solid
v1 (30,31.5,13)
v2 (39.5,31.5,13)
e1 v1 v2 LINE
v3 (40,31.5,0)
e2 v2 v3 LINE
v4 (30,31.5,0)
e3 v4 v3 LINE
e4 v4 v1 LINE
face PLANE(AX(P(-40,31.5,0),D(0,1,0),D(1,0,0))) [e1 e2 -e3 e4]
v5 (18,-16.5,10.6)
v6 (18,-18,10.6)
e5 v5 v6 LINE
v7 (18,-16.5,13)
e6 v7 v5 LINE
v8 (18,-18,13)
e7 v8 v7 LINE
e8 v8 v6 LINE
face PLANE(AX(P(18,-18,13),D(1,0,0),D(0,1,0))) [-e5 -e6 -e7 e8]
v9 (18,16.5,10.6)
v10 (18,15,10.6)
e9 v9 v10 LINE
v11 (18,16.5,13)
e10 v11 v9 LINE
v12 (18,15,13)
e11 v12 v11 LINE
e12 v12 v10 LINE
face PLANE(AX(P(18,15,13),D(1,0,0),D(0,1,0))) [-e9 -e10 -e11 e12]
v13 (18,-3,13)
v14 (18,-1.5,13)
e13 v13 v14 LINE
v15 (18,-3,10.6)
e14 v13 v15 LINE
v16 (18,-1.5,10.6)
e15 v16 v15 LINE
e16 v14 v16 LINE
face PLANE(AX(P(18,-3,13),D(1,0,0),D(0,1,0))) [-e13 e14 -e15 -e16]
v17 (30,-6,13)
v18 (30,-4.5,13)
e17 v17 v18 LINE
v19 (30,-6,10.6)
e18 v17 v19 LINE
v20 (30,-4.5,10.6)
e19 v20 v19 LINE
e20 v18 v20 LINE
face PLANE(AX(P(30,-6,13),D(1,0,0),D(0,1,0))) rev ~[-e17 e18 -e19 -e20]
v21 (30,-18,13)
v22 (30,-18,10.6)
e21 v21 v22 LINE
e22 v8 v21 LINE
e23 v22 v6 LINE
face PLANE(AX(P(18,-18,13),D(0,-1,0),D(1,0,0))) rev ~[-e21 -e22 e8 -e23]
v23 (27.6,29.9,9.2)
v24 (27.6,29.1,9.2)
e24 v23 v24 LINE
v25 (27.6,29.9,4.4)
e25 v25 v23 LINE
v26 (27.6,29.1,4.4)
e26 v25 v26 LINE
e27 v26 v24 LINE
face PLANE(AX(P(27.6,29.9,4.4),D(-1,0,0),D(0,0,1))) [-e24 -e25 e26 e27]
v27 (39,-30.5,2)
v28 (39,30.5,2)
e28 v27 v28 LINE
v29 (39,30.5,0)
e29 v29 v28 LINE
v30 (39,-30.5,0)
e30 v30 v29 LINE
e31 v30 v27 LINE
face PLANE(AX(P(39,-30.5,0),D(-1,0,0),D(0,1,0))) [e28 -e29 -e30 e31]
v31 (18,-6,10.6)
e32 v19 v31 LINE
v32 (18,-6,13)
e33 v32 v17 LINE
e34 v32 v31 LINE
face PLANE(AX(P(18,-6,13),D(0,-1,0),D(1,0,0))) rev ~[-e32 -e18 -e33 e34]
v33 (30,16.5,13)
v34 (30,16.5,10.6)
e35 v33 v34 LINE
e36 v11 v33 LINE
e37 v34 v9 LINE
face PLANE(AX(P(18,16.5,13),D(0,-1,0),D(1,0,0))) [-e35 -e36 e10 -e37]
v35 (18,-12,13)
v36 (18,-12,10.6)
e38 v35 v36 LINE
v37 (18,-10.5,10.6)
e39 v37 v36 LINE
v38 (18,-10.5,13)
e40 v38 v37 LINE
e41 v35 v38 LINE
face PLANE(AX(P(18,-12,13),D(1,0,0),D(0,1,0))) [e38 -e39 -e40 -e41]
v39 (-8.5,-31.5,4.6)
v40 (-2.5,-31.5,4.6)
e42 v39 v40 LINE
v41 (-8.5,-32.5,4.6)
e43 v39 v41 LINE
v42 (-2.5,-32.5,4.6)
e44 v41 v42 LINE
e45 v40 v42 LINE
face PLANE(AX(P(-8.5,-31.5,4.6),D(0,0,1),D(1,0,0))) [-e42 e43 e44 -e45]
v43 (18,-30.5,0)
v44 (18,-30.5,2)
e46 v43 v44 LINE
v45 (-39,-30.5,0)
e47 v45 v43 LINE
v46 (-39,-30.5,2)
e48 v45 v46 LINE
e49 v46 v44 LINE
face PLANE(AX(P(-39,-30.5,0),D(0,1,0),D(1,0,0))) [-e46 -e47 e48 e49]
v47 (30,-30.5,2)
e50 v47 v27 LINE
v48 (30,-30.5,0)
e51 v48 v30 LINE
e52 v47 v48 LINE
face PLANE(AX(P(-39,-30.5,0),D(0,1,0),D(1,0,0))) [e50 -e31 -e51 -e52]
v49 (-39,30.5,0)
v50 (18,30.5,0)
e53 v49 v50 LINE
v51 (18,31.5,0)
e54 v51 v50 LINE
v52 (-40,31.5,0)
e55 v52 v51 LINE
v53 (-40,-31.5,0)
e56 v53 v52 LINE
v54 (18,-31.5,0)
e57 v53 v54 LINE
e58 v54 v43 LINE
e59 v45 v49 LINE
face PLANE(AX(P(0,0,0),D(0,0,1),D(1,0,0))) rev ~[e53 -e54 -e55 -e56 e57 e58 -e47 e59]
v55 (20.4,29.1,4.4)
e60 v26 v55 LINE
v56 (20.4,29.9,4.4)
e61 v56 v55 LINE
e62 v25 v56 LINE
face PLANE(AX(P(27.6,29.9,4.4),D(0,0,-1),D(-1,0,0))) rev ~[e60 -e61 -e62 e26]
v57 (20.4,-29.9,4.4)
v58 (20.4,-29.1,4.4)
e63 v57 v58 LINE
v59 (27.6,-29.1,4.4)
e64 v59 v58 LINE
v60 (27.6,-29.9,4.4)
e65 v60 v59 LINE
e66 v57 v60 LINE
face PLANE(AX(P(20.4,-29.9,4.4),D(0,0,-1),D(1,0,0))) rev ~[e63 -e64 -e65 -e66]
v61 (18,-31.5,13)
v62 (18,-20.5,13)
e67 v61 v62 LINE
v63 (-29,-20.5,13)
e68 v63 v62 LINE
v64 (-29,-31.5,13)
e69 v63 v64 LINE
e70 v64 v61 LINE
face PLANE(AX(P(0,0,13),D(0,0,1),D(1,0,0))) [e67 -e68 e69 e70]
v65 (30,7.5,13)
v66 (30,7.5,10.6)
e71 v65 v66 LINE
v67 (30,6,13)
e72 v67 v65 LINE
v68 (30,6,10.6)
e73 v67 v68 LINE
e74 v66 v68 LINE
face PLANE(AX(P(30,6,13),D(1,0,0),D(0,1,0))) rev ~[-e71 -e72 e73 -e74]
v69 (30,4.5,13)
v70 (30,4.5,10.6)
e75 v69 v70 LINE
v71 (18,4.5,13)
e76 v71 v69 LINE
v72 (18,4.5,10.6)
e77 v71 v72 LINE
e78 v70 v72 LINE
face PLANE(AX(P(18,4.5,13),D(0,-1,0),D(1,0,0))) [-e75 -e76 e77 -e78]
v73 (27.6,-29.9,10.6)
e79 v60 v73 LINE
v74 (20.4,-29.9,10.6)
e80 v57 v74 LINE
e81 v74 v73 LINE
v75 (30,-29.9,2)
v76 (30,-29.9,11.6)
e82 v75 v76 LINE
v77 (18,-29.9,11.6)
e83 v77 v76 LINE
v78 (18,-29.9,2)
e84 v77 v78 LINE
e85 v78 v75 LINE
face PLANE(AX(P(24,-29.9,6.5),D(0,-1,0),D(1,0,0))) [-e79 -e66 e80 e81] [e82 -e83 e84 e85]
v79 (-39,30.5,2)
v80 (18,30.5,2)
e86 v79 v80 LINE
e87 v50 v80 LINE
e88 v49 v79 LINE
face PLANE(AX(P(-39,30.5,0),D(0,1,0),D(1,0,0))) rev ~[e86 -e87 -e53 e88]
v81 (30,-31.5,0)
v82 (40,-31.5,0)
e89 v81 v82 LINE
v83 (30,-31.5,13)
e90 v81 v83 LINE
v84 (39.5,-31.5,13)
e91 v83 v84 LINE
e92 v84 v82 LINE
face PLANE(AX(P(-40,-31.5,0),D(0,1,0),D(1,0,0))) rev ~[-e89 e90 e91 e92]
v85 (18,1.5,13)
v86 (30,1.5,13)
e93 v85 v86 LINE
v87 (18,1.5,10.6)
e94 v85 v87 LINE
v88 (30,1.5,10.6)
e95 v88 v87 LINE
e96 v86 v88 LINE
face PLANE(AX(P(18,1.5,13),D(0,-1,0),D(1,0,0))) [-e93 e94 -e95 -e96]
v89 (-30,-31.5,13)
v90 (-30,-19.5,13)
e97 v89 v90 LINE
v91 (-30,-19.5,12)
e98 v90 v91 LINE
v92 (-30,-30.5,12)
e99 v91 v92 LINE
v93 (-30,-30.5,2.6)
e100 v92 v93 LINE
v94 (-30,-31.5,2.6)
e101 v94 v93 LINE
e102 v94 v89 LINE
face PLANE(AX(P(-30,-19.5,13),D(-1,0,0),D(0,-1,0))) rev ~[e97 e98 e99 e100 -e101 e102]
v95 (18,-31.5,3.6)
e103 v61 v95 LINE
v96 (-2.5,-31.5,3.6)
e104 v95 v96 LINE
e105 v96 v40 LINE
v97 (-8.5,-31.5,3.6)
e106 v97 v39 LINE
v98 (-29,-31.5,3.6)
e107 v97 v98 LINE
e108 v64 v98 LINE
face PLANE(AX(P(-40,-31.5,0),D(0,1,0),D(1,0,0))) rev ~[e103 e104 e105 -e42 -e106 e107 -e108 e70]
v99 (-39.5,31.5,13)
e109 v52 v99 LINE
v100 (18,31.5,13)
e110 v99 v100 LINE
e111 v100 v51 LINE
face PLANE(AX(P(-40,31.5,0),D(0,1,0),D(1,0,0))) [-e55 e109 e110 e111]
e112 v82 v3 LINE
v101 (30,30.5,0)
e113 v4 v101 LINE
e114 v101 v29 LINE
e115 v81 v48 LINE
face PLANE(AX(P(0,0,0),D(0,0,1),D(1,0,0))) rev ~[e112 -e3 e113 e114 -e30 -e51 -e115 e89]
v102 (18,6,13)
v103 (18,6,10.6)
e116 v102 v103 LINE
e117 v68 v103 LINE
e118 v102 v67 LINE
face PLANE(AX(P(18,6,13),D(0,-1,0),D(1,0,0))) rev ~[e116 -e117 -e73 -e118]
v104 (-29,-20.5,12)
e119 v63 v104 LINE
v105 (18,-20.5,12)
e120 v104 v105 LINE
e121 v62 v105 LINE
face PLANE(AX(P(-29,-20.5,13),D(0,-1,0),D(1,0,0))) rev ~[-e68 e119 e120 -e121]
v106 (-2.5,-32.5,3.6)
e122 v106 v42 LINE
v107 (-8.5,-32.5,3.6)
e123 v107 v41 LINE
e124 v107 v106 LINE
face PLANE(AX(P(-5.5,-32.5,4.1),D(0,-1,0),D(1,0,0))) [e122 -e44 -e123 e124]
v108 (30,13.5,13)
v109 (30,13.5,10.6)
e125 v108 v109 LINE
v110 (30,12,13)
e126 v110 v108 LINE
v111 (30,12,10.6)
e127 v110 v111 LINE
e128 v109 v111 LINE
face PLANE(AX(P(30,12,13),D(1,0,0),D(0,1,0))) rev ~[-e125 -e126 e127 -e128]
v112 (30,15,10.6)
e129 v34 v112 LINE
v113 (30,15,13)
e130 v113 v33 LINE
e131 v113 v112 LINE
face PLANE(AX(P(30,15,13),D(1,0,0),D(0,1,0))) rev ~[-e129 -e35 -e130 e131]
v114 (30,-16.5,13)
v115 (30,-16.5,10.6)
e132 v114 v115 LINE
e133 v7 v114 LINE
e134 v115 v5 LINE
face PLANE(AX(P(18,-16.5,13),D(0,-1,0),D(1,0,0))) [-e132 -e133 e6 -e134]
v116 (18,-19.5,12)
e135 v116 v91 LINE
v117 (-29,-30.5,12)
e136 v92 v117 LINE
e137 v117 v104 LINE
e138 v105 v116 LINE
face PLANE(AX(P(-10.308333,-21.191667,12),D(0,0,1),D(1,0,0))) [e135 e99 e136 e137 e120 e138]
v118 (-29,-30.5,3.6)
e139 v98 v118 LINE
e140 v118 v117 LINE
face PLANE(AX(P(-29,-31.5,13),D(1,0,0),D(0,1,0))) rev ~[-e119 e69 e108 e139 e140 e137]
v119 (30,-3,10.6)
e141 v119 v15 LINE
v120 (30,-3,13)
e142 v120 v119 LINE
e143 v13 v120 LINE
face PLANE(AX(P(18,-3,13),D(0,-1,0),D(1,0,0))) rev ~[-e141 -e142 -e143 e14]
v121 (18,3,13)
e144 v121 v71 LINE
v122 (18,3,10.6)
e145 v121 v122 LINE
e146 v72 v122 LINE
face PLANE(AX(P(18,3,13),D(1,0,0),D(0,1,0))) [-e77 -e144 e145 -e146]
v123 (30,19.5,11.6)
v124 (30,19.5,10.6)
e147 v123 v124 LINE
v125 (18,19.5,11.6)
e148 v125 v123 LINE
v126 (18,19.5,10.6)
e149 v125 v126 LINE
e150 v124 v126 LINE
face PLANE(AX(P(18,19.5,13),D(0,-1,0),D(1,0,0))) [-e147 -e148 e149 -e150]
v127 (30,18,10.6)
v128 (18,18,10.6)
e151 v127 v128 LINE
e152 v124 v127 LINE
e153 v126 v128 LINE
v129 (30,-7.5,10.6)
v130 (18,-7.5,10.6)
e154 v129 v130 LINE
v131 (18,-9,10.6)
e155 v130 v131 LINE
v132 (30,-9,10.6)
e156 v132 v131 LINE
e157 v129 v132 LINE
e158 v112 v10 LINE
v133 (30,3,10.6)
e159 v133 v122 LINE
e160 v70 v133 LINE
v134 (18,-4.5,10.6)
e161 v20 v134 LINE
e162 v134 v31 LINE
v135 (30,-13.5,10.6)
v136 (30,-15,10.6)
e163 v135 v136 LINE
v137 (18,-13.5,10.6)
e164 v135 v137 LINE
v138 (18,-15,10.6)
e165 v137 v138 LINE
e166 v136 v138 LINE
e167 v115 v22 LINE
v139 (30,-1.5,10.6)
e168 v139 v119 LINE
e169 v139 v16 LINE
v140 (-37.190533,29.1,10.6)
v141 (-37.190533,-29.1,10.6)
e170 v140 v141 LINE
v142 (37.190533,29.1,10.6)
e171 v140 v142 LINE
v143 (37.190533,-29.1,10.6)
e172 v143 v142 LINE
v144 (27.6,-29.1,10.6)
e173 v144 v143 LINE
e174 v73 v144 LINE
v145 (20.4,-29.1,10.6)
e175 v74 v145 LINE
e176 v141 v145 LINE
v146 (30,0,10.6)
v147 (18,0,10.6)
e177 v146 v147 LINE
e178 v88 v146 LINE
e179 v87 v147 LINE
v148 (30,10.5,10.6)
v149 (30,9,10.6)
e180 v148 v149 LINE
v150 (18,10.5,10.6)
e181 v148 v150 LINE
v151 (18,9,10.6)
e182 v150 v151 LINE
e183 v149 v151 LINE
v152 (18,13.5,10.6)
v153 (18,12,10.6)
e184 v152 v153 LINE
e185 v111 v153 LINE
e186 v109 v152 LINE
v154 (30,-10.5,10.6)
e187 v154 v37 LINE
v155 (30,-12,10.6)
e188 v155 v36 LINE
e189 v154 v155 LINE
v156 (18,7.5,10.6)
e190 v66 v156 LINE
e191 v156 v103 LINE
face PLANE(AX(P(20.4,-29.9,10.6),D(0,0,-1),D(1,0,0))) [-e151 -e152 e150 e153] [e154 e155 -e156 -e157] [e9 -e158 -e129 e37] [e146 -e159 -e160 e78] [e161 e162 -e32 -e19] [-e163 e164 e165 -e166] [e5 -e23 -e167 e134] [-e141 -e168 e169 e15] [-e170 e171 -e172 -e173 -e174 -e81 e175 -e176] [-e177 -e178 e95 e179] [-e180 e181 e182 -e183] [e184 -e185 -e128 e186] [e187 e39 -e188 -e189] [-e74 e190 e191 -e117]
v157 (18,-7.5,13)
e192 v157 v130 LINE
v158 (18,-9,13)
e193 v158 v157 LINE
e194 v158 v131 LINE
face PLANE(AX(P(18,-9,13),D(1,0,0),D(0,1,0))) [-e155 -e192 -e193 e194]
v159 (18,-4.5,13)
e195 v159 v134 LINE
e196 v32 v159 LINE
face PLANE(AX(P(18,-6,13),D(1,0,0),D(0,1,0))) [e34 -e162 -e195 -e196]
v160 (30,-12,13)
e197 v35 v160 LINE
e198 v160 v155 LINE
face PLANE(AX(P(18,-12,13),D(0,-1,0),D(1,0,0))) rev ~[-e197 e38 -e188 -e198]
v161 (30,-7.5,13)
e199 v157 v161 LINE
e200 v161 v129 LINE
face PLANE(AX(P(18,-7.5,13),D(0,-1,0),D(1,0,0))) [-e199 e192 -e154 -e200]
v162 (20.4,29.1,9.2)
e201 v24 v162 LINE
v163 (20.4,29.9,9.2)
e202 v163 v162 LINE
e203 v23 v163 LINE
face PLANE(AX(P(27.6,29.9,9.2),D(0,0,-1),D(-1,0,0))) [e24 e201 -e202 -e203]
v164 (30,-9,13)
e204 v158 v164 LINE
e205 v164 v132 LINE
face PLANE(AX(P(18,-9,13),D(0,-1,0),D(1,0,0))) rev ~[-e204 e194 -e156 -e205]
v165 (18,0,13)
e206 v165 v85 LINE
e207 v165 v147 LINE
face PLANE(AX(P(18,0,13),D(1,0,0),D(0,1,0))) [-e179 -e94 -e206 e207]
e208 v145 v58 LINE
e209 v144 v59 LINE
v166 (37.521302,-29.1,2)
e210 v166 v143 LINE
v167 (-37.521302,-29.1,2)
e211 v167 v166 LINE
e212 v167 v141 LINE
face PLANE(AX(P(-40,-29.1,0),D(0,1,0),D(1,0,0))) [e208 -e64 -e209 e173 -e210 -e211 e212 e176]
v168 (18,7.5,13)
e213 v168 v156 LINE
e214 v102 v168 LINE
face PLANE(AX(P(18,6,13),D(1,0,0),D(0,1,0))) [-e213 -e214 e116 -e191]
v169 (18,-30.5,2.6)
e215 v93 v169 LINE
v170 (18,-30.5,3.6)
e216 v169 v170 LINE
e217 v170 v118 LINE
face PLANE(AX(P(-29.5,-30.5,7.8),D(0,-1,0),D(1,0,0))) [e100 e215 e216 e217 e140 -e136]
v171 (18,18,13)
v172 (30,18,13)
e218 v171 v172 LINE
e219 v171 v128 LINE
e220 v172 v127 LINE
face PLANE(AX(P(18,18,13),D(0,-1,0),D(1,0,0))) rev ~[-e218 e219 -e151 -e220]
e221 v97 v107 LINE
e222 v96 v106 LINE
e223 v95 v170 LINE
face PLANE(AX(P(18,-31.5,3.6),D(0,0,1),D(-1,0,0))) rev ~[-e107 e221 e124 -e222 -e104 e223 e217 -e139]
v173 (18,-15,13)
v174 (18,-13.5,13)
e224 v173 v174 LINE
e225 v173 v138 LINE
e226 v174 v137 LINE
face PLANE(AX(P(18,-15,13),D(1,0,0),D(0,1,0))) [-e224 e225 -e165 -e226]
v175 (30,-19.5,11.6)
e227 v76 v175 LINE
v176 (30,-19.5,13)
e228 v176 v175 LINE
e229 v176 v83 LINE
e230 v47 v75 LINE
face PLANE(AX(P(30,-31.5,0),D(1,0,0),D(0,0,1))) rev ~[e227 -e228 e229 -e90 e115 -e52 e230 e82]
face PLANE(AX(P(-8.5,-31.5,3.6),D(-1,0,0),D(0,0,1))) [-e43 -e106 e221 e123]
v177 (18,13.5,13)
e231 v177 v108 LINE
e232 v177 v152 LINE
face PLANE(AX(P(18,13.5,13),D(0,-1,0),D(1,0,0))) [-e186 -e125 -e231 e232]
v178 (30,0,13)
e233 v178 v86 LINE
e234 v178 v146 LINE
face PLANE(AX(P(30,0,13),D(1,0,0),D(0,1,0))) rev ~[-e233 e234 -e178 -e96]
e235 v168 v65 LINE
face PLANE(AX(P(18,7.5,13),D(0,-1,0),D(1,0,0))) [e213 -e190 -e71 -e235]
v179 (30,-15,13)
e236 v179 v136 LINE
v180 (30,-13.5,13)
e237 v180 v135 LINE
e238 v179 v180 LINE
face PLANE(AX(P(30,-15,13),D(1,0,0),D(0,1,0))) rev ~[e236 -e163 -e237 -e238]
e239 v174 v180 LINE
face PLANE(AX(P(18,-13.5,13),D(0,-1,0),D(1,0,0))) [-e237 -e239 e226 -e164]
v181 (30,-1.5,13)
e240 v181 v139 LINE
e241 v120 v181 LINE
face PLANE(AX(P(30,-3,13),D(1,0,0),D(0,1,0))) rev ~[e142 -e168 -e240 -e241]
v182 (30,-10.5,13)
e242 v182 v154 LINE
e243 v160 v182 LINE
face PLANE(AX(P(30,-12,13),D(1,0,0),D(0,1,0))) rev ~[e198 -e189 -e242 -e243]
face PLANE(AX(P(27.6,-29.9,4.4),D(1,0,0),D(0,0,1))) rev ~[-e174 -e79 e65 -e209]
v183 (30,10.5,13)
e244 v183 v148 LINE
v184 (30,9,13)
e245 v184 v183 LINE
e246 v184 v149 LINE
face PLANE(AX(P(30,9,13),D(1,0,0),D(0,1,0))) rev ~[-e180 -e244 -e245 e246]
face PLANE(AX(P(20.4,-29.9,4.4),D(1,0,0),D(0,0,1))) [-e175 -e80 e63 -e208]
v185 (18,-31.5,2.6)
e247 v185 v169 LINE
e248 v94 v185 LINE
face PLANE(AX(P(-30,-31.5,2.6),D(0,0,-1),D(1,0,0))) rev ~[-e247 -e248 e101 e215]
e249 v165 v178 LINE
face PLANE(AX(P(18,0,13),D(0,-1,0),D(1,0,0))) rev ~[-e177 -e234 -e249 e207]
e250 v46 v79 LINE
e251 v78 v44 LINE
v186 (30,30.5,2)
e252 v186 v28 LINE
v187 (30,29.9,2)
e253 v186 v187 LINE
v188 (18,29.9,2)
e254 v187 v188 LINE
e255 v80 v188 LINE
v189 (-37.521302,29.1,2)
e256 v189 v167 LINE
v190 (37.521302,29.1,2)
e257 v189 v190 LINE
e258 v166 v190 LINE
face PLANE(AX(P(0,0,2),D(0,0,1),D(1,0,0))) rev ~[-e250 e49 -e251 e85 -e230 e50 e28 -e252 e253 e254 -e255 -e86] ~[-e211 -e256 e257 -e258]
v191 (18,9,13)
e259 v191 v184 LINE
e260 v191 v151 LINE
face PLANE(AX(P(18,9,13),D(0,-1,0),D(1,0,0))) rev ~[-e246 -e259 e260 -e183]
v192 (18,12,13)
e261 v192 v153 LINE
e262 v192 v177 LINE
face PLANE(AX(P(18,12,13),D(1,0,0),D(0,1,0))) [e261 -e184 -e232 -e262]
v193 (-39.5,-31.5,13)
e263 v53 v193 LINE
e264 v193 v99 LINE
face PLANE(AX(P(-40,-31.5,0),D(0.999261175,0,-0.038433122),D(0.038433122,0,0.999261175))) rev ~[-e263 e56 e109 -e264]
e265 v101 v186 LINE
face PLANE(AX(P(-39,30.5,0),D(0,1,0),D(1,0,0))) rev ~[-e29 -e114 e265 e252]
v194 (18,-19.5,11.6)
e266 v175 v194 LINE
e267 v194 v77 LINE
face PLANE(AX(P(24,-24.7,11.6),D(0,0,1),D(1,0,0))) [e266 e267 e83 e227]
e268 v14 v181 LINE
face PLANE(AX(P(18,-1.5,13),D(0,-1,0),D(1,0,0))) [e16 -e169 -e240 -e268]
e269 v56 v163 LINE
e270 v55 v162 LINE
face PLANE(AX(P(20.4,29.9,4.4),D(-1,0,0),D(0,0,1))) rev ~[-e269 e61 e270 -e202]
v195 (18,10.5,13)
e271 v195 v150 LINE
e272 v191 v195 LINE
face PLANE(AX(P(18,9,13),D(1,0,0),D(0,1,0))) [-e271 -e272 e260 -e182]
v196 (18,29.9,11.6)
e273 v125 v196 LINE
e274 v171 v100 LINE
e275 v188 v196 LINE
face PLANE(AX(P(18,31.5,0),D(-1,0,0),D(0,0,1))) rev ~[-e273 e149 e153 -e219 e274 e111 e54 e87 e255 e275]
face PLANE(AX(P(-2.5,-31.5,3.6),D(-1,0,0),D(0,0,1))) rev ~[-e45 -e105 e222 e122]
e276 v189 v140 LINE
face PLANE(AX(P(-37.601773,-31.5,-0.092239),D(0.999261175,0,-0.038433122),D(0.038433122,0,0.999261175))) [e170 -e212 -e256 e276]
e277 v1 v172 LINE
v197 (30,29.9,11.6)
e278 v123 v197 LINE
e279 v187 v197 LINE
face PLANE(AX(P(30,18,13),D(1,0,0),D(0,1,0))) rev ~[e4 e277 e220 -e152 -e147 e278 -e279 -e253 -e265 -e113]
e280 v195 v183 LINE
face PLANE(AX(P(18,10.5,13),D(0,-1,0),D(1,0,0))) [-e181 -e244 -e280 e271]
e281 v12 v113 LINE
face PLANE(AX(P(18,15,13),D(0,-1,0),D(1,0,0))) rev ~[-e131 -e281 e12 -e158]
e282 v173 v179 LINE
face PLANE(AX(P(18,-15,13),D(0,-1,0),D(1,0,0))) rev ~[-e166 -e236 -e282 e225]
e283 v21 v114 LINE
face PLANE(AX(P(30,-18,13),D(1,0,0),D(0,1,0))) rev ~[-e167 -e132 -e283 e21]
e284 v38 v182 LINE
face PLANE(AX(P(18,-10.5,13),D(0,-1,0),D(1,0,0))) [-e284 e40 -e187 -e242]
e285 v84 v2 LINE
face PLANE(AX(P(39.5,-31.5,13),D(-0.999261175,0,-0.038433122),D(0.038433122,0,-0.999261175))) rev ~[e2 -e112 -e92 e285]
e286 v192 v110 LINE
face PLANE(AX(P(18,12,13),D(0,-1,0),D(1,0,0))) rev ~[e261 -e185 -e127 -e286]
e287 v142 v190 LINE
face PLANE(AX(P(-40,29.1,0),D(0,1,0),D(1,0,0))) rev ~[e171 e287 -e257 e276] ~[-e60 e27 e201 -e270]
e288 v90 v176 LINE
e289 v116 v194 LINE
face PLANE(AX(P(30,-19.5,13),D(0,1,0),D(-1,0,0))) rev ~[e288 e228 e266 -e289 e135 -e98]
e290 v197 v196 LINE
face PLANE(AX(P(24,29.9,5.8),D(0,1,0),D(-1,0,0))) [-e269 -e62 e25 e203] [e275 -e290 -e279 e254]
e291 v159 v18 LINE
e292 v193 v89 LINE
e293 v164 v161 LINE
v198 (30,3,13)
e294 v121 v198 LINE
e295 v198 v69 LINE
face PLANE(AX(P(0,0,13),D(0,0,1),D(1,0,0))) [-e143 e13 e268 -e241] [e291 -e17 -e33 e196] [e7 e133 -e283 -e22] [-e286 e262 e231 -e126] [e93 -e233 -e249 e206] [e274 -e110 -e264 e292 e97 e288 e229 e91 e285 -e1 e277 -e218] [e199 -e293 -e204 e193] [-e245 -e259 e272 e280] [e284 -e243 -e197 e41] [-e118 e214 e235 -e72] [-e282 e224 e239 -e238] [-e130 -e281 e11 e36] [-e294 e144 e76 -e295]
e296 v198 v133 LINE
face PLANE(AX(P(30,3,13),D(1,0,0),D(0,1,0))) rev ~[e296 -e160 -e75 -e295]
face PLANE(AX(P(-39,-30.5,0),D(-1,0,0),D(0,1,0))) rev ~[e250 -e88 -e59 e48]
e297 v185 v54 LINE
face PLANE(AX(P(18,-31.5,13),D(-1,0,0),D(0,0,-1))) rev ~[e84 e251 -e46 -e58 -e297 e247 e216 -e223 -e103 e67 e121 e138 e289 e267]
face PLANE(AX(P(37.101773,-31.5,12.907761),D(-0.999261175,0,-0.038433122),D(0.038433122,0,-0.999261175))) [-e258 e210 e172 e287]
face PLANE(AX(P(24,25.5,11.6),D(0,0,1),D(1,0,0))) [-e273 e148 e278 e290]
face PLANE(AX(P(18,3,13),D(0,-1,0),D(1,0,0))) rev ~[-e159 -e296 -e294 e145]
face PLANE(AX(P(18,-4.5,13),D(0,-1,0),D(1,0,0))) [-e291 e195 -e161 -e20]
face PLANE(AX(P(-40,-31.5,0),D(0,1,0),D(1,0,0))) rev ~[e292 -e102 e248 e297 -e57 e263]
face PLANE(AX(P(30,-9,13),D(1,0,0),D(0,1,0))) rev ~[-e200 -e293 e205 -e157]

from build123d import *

# Parameters (mm, degrees)
F0_W      = 80
F0_H      = 63
F0_W_2    = 78
F0_H_2    = 61
F1_DEPTH  = 13
F3_DEPTH  = 63
F4_T      = -2.4
F5_DEPTH  = 2
F6_DEPTH  = 1.6
F7_W      = 7.2
F7_H      = 6.2
F8_DEPTH  = 2
F9_W      = 12
F9_H      = 12
F10_DEPTH = 1.4
F9_H_2    = 1.5
F11_DEPTH = 3
F12_W     = 12
F12_H     = 11.6
F13_DEPTH = 1.6
F14_W     = 7.2
F14_H     = 4.8
F15_DEPTH = 3
F16_DEPTH = 1
F2_W      = 6
F2_H      = 1
F17_DEPTH = 1
F18_DEPTH = 1


with BuildPart() as f1:
    # F0 (on Top) → F1 (new body)
    with BuildSketch(Plane.XY):
        Rectangle(F0_W, F0_H)
        Rectangle(F0_W_2, F0_H_2, mode=Mode.SUBTRACT)
        Rectangle(F0_W_2, F0_H_2)
    extrude(amount=F1_DEPTH)

    # F2 (on face) → F3 (cut)
    with BuildSketch(Plane.XZ.offset(31.5)):
        Polygon((-39.5, 13), (-40, 13), (-40, 0), align=None)
        Polygon((39.5, 13), (40, 0), (40, 13), align=None)
    extrude(amount=-F3_DEPTH, mode=Mode.SUBTRACT)

    # F4
    f4_openings = [f1.faces().sort_by_distance(p)[0] for p in [
        (0, 0, 0),
    ]]
    offset(amount=F4_T, openings=f4_openings)

    # F0 (on Top) → F5 (cut)
    with BuildSketch(Plane.XY):
        Rectangle(F0_W_2, F0_H_2)
    extrude(amount=F5_DEPTH, mode=Mode.SUBTRACT)

    # F2 (on face) → F6 (cut)
    with BuildSketch(Plane.XZ.offset(31.5)):
        Polygon((18, 2.6), (18, 0), (30, 0), (30, 13), (18, 13), (18, 3.6), align=None)
    extrude(amount=-F6_DEPTH, mode=Mode.SUBTRACT)

    # F7 (on face) → F8 (cut)
    with BuildSketch(Plane.XZ.offset(29.9)):
        with Locations((24, 7.5)):
            Rectangle(F7_W, F7_H)
    extrude(amount=-F8_DEPTH, mode=Mode.SUBTRACT)

    # F9 (on face) → F10 (cut)
    with BuildSketch(Plane.XY.offset(13)):
        with Locations((24, 25.5)):
            Rectangle(F9_W, F9_H)
        Polygon((18, -20.5), (18, -29.9), (30, -29.9), (30, -19.5), (18, -19.5), align=None)
    extrude(amount=-F10_DEPTH, mode=Mode.SUBTRACT)

    # F9 (on face) → F11 (cut)
    with BuildSketch(Plane.XY.offset(13)):
        with Locations((24, -17.25)):
            Rectangle(F9_W, F9_H_2)
        with Locations((24, -14.25)):
            Rectangle(F9_W, F9_H_2)
        with Locations((24, -11.25)):
            Rectangle(F9_W, F9_H_2)
        with Locations((24, -8.25)):
            Rectangle(F9_W, F9_H_2)
        with Locations((24, -5.25)):
            Rectangle(F9_W, F9_H_2)
        with Locations((24, 0.75)):
            Rectangle(F9_W, F9_H_2)
        with Locations((24, -2.25)):
            Rectangle(F9_W, F9_H_2)
        with Locations((24, 3.75)):
            Rectangle(F9_W, F9_H_2)
        with Locations((24, 6.75)):
            Rectangle(F9_W, F9_H_2)
        with Locations((24, 9.75)):
            Rectangle(F9_W, F9_H_2)
        with Locations((24, 12.75)):
            Rectangle(F9_W, F9_H_2)
        with Locations((24, 15.75)):
            Rectangle(F9_W, F9_H_2)
        with Locations((24, 18.75)):
            Rectangle(F9_W, F9_H_2)
    extrude(amount=-F11_DEPTH, mode=Mode.SUBTRACT)

    # F12 (on face) → F13 (cut)
    with BuildSketch(Plane(origin=(0, 31.5, 0), x_dir=(-1, 0, 0), z_dir=(0, 1, 0))):
        with Locations((-24, 5.8)):
            Rectangle(F12_W, F12_H)
    extrude(amount=-F13_DEPTH, mode=Mode.SUBTRACT)

    # F14 (on face) → F15 (cut)
    with BuildSketch(Plane(origin=(0, 29.9, 0), x_dir=(-1, 0, 0), z_dir=(0, 1, 0))):
        with Locations((-24, 6.8)):
            Rectangle(F14_W, F14_H)
    extrude(amount=-F15_DEPTH, mode=Mode.SUBTRACT)

    # F9 (on face) → F16 (cut)
    with BuildSketch(Plane.XY.offset(13)):
        Polygon((-29, -20.5), (18, -20.5), (18, -19.5), (-30, -19.5), (-30, -31.5), (-29, -31.5), align=None)
    extrude(amount=-F16_DEPTH, mode=Mode.SUBTRACT)

    # F2 (on face) → F17 (join)
    with BuildSketch(Plane.XZ.offset(31.5)):
        with Locations((-5.5, 4.1)):
            Rectangle(F2_W, F2_H)
    extrude(amount=F17_DEPTH)

    # F2 (on face) → F18 (cut)
    with BuildSketch(Plane.XZ.offset(31.5)):
        Polygon((-29, 13), (-30, 13), (-30, 2.6), (-29, 2.6), (-29, 3.6), align=None)
        Polygon((-29, 2.6), (18, 2.6), (18, 3.6), (-2.5, 3.6), (-8.5, 3.6), (-29, 3.6), align=None)
    extrude(amount=-F18_DEPTH, mode=Mode.SUBTRACT)


solid = f1.part
